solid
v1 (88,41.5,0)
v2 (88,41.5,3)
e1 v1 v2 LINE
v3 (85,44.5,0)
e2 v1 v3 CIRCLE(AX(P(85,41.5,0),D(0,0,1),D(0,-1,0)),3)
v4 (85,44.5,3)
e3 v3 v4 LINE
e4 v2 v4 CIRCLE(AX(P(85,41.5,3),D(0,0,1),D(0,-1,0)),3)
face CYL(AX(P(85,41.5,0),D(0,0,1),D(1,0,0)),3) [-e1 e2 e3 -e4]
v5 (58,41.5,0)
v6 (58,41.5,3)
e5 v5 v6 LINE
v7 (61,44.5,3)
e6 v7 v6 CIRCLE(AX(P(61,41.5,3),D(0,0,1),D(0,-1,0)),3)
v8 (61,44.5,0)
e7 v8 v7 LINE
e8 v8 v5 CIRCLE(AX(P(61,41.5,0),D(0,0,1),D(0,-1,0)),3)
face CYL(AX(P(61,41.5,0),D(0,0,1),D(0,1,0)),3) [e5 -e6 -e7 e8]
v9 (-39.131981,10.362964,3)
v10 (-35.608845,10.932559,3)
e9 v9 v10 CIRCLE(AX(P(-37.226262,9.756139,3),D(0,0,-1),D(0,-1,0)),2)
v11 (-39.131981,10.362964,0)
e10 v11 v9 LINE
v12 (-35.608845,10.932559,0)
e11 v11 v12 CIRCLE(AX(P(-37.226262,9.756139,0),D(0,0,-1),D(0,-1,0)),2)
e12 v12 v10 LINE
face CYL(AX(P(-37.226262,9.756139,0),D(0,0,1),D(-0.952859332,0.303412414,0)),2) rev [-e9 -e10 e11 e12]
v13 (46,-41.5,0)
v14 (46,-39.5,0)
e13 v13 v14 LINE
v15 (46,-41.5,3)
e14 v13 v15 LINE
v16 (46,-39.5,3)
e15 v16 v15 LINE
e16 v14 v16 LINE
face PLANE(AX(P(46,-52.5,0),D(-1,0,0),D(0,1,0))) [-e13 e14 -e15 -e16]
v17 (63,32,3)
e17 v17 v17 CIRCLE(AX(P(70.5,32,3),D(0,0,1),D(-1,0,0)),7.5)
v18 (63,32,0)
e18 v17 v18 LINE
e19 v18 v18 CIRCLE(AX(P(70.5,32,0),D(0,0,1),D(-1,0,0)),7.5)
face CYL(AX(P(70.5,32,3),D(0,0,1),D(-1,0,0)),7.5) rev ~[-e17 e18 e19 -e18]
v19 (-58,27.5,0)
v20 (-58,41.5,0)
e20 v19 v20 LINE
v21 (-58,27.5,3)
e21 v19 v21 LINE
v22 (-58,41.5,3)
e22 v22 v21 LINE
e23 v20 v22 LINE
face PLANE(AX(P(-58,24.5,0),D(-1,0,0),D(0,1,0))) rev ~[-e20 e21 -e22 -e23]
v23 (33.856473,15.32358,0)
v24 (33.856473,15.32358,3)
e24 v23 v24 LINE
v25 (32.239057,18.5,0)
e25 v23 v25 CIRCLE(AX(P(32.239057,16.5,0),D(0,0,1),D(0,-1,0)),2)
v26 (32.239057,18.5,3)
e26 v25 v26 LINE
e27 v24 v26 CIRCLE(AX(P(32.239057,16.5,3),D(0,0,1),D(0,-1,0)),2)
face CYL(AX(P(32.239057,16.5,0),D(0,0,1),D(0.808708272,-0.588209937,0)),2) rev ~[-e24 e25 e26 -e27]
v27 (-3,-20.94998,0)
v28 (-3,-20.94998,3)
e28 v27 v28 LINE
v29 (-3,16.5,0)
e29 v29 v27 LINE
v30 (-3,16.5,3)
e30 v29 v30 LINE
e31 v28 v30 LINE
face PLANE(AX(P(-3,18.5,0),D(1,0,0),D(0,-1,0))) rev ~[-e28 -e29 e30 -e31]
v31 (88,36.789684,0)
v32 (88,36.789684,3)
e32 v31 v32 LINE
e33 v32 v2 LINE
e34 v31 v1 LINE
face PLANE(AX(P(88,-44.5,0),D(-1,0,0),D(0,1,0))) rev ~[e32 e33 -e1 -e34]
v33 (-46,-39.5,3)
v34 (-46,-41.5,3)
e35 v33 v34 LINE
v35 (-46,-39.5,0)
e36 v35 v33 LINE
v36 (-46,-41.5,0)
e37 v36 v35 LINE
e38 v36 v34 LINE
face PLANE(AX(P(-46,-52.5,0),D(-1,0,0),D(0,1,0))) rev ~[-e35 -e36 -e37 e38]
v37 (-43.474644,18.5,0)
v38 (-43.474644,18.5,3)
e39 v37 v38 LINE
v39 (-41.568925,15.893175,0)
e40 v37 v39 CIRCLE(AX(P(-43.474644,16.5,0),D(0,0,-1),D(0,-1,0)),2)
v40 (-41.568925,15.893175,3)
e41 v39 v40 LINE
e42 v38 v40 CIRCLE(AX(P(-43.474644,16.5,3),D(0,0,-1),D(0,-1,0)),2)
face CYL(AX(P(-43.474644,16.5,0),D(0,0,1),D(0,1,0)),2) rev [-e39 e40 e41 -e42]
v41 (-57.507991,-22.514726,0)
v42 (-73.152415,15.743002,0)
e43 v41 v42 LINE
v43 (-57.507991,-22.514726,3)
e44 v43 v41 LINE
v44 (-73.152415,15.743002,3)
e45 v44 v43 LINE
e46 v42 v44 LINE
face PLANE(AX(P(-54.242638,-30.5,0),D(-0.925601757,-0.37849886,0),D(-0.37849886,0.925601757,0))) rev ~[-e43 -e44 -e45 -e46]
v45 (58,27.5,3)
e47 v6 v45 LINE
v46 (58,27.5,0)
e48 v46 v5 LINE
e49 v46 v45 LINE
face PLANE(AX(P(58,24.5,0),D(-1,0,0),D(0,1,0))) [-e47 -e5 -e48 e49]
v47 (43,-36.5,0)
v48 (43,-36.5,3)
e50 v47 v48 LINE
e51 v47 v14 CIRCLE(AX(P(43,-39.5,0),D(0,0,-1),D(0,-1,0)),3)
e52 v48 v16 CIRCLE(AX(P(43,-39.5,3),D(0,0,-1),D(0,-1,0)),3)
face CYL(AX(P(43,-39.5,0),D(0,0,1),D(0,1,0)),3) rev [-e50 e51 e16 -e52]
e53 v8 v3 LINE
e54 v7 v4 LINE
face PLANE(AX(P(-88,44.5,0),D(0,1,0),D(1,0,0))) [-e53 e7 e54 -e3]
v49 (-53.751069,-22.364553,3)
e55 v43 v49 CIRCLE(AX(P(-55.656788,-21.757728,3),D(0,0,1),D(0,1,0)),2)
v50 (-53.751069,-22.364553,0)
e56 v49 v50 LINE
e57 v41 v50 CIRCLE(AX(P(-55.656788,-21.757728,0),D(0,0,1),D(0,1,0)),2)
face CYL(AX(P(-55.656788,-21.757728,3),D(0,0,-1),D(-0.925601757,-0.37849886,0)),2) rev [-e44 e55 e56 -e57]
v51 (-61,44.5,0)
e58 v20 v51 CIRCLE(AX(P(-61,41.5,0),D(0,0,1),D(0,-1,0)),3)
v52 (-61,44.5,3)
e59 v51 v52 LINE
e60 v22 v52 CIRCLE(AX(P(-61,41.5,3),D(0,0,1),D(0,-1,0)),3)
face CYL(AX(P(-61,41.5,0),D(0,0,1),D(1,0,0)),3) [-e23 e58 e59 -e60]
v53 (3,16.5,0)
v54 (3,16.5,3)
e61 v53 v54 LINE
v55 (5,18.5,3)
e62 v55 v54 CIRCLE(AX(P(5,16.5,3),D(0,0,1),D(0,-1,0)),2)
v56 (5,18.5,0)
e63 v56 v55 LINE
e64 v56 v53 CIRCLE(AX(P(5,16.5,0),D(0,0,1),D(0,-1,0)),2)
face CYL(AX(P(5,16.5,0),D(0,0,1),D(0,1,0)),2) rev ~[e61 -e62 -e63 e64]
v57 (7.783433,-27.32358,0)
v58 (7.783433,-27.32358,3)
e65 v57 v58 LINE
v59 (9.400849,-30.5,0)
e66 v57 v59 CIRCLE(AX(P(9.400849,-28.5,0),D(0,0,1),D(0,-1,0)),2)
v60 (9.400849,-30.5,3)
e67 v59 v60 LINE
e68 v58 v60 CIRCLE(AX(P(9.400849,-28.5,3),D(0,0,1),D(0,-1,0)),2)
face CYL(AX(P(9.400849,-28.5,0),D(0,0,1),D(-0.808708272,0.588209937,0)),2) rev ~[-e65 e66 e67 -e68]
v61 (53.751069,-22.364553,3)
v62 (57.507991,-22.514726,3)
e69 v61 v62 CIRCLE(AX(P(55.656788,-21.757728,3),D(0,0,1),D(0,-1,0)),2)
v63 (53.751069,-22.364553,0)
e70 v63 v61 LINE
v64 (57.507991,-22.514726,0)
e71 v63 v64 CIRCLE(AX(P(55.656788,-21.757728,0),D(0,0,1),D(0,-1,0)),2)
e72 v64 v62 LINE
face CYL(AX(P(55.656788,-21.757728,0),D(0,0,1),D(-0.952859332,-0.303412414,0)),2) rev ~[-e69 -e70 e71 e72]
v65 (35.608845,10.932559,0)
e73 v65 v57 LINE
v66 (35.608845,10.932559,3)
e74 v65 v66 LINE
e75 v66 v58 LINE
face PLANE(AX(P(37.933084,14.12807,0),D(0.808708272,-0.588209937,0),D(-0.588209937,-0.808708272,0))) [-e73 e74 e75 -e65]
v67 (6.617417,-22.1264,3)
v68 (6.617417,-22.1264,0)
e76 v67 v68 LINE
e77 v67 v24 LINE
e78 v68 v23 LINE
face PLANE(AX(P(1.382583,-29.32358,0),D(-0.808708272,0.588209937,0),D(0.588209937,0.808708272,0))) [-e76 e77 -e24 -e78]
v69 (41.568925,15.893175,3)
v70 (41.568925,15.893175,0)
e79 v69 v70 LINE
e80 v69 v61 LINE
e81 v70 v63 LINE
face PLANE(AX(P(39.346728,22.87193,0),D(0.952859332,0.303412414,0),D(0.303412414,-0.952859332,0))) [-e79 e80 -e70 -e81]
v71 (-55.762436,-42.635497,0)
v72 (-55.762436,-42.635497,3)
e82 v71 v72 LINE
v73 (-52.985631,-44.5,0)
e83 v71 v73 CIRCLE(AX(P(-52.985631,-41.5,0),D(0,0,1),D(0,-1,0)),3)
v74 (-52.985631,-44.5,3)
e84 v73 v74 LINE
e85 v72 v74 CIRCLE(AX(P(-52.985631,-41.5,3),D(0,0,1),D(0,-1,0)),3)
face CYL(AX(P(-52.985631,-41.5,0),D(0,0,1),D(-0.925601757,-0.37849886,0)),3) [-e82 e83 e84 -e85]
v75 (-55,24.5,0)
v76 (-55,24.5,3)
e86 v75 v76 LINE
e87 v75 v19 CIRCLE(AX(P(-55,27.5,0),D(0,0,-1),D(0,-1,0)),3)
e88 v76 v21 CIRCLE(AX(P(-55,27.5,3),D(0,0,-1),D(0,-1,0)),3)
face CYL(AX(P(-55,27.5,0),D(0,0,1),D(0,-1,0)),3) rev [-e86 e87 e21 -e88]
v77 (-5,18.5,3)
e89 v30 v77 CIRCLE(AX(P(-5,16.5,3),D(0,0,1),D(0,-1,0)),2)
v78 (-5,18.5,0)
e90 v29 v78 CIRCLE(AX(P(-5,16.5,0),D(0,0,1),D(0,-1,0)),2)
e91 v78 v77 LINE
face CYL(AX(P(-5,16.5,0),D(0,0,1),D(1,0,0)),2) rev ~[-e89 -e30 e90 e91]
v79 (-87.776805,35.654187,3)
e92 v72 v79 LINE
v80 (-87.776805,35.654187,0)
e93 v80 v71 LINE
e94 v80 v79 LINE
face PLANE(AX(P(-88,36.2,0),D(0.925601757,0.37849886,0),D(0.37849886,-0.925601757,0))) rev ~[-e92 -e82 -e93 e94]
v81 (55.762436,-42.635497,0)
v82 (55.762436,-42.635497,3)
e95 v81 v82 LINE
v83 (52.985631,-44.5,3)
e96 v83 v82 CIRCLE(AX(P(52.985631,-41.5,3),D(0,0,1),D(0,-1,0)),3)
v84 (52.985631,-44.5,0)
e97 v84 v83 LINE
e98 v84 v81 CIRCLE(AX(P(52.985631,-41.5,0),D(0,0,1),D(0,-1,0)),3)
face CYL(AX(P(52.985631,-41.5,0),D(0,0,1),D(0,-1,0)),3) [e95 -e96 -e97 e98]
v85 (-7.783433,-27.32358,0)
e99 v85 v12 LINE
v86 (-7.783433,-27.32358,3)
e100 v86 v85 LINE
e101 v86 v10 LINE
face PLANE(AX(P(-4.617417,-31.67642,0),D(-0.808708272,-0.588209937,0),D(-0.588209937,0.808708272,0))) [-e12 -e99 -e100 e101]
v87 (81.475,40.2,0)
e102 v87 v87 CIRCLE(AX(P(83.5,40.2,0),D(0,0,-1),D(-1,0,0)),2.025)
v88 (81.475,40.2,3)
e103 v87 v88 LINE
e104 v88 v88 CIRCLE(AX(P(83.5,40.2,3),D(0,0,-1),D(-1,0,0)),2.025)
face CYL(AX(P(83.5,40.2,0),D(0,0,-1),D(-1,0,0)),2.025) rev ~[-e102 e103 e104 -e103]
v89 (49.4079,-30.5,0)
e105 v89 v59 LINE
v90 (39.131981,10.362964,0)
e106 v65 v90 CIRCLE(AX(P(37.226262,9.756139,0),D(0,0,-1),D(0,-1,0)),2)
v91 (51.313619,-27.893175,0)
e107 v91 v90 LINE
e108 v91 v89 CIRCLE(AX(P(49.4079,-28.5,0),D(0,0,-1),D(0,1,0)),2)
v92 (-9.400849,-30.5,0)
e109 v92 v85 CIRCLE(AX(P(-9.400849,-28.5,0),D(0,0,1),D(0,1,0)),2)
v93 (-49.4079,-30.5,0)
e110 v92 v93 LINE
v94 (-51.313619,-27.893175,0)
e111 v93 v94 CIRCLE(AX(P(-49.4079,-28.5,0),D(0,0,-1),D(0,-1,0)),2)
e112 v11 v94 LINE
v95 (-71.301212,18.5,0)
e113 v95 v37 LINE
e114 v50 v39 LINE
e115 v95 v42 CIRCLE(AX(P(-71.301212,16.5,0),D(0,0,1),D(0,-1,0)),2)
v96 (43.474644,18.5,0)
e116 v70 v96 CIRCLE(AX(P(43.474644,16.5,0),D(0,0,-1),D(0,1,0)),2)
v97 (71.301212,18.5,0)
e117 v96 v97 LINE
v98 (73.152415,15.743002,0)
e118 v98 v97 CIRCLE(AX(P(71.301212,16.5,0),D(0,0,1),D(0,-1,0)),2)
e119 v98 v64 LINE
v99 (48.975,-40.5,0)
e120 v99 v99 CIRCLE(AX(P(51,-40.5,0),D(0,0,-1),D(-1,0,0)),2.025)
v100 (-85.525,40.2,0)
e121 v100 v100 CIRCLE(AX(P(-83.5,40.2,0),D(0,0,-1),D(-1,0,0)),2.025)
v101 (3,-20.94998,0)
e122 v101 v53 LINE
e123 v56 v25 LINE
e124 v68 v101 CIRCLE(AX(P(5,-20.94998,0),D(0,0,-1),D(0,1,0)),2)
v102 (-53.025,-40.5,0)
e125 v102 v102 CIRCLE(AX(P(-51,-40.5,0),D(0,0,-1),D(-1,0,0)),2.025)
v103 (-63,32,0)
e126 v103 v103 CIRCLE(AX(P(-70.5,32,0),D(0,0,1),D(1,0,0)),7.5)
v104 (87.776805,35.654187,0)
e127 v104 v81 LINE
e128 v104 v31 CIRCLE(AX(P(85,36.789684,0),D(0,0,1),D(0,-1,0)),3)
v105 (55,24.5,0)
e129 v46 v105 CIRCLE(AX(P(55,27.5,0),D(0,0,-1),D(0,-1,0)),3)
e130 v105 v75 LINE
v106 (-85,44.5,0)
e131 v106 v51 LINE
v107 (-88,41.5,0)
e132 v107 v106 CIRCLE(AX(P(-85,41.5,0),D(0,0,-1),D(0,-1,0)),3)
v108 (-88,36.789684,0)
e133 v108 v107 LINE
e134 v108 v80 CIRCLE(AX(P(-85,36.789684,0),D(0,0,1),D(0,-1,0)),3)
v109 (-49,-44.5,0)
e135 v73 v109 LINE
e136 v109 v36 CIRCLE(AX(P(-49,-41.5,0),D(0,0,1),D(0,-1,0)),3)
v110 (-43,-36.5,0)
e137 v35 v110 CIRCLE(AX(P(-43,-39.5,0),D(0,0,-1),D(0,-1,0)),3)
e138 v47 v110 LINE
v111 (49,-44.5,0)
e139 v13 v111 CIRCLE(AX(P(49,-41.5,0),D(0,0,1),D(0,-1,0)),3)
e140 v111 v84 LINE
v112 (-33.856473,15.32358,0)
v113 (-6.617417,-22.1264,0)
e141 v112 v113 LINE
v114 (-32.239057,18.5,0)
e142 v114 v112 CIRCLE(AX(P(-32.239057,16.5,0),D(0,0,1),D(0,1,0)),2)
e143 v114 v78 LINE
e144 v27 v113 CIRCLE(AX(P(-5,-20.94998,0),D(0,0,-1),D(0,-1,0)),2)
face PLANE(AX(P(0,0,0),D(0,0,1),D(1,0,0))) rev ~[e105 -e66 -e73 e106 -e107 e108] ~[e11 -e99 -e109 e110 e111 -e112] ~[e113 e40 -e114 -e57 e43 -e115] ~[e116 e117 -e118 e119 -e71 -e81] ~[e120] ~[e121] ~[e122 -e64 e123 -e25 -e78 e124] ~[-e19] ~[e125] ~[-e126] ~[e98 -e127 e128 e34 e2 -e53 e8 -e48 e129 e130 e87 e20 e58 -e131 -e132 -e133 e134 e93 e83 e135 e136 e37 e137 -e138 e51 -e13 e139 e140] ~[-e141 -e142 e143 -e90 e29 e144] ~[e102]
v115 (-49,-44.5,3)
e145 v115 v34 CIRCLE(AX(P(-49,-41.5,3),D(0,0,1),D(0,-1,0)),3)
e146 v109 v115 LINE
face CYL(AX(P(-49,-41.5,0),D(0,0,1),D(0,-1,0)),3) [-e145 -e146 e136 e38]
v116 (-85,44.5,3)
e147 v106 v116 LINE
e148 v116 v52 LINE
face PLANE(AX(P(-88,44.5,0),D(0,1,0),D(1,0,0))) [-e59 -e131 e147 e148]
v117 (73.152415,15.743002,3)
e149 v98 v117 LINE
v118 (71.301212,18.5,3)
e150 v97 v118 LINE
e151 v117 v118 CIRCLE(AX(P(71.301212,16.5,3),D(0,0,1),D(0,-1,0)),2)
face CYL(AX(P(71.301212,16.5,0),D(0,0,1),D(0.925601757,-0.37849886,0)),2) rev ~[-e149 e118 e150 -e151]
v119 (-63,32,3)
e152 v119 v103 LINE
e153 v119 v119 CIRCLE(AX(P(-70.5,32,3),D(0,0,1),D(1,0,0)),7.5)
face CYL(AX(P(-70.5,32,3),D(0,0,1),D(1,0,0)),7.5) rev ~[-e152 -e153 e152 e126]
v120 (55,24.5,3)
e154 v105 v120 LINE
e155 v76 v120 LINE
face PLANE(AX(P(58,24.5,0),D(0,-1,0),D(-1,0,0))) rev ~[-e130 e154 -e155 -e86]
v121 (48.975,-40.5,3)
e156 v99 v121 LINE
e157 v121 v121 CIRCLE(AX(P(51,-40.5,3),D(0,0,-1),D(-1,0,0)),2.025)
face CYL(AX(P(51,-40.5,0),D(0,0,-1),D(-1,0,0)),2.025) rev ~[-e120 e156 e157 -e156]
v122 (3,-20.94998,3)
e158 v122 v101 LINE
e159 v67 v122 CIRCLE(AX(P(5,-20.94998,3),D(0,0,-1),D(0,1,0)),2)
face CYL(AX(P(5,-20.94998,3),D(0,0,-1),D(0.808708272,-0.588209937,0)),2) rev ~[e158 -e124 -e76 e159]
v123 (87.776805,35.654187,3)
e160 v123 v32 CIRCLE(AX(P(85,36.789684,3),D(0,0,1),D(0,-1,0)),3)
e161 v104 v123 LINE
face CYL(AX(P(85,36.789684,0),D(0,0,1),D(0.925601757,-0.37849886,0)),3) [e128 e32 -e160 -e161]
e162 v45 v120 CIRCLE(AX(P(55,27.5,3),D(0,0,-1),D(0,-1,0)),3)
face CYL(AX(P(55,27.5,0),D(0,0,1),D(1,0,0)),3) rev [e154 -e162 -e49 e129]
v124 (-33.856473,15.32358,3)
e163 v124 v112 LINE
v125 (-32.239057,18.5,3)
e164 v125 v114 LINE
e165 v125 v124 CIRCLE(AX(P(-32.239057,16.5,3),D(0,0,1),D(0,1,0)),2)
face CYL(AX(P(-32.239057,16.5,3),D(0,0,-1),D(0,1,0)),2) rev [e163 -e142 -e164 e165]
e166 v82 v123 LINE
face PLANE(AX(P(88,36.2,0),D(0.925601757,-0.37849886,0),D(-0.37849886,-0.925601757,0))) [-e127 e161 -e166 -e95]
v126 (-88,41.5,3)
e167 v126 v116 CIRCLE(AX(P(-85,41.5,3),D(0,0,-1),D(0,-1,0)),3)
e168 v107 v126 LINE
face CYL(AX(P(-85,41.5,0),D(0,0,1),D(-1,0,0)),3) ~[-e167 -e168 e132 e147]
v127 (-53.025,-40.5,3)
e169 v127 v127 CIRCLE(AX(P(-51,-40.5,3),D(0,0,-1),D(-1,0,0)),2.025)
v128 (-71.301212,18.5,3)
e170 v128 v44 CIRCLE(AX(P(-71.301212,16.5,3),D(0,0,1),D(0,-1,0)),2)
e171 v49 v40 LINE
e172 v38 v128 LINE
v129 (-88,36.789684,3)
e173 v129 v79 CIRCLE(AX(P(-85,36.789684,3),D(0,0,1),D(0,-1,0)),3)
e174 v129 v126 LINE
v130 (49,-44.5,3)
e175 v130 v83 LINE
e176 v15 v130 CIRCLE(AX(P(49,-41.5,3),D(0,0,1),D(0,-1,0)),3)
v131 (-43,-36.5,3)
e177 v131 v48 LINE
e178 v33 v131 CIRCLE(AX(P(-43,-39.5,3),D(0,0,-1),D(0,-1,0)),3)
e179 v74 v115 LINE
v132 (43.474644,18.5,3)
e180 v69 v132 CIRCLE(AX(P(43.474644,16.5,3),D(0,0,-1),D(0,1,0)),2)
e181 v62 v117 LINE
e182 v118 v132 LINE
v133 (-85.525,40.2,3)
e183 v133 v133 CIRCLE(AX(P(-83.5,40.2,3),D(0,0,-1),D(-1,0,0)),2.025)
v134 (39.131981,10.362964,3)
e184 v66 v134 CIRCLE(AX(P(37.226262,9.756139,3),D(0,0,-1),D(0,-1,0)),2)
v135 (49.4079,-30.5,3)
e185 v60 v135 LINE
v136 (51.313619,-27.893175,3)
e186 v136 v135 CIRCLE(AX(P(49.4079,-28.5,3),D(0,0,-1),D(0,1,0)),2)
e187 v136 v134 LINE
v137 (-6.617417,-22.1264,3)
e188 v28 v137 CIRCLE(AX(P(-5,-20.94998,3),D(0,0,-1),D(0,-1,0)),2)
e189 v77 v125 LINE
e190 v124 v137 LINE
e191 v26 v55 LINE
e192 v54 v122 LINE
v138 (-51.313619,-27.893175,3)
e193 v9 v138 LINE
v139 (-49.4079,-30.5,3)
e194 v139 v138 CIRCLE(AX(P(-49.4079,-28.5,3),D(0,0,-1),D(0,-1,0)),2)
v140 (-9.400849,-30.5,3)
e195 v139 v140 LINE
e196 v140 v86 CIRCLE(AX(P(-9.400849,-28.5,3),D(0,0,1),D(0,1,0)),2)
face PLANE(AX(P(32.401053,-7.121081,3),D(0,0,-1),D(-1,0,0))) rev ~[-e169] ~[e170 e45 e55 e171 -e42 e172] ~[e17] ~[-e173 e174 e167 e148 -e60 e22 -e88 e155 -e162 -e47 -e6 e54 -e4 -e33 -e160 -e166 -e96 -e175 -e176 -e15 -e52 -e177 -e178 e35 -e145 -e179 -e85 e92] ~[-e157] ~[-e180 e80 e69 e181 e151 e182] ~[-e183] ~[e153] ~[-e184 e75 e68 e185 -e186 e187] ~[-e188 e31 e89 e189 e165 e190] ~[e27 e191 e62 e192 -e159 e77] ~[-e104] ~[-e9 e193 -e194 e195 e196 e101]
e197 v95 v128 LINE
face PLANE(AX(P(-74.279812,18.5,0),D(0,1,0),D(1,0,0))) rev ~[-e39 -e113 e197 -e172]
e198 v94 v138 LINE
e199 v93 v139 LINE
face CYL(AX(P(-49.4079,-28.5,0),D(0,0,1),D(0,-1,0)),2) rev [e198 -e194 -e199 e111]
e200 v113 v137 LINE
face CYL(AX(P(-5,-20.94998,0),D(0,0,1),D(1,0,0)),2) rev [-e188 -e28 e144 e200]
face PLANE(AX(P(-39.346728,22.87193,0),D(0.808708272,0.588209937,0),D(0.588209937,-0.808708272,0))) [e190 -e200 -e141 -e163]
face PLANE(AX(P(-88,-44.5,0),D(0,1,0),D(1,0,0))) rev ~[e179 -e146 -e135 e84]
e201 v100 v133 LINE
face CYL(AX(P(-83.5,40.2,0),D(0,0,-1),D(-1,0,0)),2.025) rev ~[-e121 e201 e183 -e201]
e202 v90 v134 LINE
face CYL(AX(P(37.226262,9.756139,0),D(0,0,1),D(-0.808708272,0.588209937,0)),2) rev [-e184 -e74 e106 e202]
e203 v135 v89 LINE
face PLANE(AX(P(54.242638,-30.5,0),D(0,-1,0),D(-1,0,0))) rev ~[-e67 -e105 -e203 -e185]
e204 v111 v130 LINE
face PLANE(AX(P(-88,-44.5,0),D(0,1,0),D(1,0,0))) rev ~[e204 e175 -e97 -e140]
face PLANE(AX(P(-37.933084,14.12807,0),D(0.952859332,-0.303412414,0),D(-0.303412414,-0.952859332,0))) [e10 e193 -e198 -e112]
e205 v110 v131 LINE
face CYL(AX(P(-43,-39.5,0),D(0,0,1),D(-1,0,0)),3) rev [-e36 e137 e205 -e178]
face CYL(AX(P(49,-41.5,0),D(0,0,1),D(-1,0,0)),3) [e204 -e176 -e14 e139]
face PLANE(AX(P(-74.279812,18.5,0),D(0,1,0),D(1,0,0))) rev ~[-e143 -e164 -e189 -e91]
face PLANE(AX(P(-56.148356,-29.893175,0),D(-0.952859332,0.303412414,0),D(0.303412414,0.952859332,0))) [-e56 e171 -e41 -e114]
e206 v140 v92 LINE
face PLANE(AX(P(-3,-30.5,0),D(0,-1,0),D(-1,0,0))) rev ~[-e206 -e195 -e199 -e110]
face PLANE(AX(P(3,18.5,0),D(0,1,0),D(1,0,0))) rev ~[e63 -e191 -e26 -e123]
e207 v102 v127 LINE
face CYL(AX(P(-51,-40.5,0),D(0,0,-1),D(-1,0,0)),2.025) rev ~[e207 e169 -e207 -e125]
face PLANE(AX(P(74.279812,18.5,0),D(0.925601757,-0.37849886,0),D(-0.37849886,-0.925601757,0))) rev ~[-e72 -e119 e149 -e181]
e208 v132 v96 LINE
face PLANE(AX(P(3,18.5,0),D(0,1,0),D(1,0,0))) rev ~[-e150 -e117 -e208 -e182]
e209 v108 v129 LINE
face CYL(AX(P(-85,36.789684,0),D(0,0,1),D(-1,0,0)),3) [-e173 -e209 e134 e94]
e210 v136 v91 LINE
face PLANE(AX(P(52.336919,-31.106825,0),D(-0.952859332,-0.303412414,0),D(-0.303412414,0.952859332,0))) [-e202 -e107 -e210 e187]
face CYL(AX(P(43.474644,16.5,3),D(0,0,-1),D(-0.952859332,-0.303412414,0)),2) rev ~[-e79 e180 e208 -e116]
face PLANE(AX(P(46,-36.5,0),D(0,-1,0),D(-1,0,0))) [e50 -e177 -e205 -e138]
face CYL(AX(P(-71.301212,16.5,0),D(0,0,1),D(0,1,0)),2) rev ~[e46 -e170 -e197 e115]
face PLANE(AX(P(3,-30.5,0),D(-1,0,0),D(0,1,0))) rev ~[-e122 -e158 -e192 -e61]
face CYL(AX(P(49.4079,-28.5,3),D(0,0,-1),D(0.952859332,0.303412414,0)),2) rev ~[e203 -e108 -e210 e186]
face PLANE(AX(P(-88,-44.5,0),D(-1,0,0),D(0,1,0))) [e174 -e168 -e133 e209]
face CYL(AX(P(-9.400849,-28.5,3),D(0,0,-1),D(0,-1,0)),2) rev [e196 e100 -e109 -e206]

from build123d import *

# Parameters (mm, degrees)
SKETCH_1_W          = 176
SKETCH_1_H          = 89
EXTRUDE_1_DEPTH     = 3
SKETCH_2_R          = 2.025
CUT_EXTRUDE_1_DEPTH = 4
CUT_EXTRUDE_2_DEPTH = 4
SKETCH_4_W          = 116
SKETCH_4_H          = 40
CUT_EXTRUDE_3_DEPTH = 4
SKETCH_5_W          = 92
SKETCH_5_H          = 16
CUT_EXTRUDE_4_DEPTH = 4
CUT_EXTRUDE_5_DEPTH = 24
EXTRUDE_2_DEPTH     = 3
FILLET_1_R          = 2
FILLET_2_R          = 3
SKETCH_8_R          = 7.5
CUT_EXTRUDE_6_DEPTH = 3


with BuildPart() as part:
    # 草图1 → 凸台-拉伸1 (new body)
    with BuildSketch(Plane.XY):
        Rectangle(SKETCH_1_W, SKETCH_1_H)
    extrude(amount=EXTRUDE_1_DEPTH)

    # 草图2 → 切除-拉伸1 (cut)
    with BuildSketch(Plane(origin=(0, 0, 0), x_dir=(-1, 0, 0), z_dir=(0, 0, -1))):
        with Locations((-83.5, 40.2)):
            Circle(SKETCH_2_R)
        with Locations((83.5, 40.2)):
            Circle(SKETCH_2_R)
        with Locations((51, -40.5)):
            Circle(SKETCH_2_R)
        with Locations((-51, -40.5)):
            Circle(SKETCH_2_R)
    extrude(amount=-CUT_EXTRUDE_1_DEPTH, mode=Mode.SUBTRACT)

    # 草图3 → 切除-拉伸2 (cut)
    with BuildSketch(Plane(origin=(0, 0, 0), x_dir=(-1, 0, 0), z_dir=(0, 0, -1))):
        Polygon((88, -44.5), (88, 36.2), (55, -44.5), align=None)
        Polygon((-88, 36.2), (-55, -44.5), (-88, -44.5), align=None)
    extrude(amount=-CUT_EXTRUDE_2_DEPTH, mode=Mode.SUBTRACT)

    # 草图4 → 切除-拉伸3 (cut)
    with BuildSketch(Plane(origin=(0, 0, 0), x_dir=(-1, 0, 0), z_dir=(0, 0, -1))):
        with Locations((0, 44.5)):
            Rectangle(SKETCH_4_W, SKETCH_4_H)
    extrude(amount=-CUT_EXTRUDE_3_DEPTH, mode=Mode.SUBTRACT)

    # 草图5 → 切除-拉伸4 (cut)
    with BuildSketch(Plane(origin=(0, 0, 0), x_dir=(-1, 0, 0), z_dir=(0, 0, -1))):
        with Locations((0, -44.5)):
            Rectangle(SKETCH_5_W, SKETCH_5_H)
    extrude(amount=-CUT_EXTRUDE_4_DEPTH, mode=Mode.SUBTRACT)

    # 草图6 → 切除-拉伸5 (cut)
    with BuildSketch(Plane(origin=(0, 0, 0), x_dir=(-1, 0, 0), z_dir=(0, 0, -1))):
        Polygon((-3, 18.5), (-74.279812328, 18.5), (-54.242637607, -30.5), (-3, -30.5), align=None)
        Polygon((74.279812328, 18.5), (3, 18.5), (3, -30.5), (54.242637607, -30.5), align=None)
    extrude(amount=-CUT_EXTRUDE_5_DEPTH, mode=Mode.SUBTRACT)

    # 草图7 → 凸台-拉伸2 (add)
    with BuildSketch(Plane(origin=(0, 0, 0), x_dir=(-1, 0, 0), z_dir=(0, 0, -1))):
        with BuildLine():
            Line((-52.336918942, -31.106824827), (-37.933084046, 14.128069622))
            Line((-37.933084046, 14.128069622), (-4.617416544, -31.676419875))
            ThreePointArc((-4.617416544, -31.676419875), (-1.823580125, -32.117416544), (-1.382583456, -29.323580125))
            Line((-1.382583456, -29.323580125), (-39.346728283, 22.871930378))
            Line((-39.346728283, 22.871930378), (-56.148356272, -29.893175173))
            ThreePointArc((-56.148356272, -29.893175173), (-54.849462434, -32.405718665), (-52.336918942, -31.106824827))
        make_face()
        with BuildLine():
            Line((4.617416544, -31.676419875), (37.933084046, 14.128069622))
            Line((37.933084046, 14.128069622), (52.336918942, -31.106824827))
            ThreePointArc((52.336918942, -31.106824827), (54.849462434, -32.405718665), (56.148356272, -29.893175173))
            Line((56.148356272, -29.893175173), (39.346728283, 22.871930378))
            Line((39.346728283, 22.871930378), (1.382583456, -29.323580125))
            ThreePointArc((1.382583456, -29.323580125), (1.823580125, -32.117416544), (4.617416544, -31.676419875))
        make_face()
    extrude(amount=-EXTRUDE_2_DEPTH)

    # 圆角1
    fillet_1_edges = [part.edges().sort_by_distance(p)[0] for p in [
        (3, 18.5, 1.5),
        (74.279812328, 18.5, 1.5),
        (-3, 18.5, 1.5),
        (-74.279812328, 18.5, 1.5),
        (36.166826478, 18.5, 1.5),
        (40.738851866, 18.5, 1.5),
        (52.143691905, -30.5, 1.5),
        (5.473079686, -30.5, 1.5),
        (37.933084046, 14.128069622, 1.5),
        (55.422689585, -27.614236527, 1.5),
        (3, -27.099853432, 1.5),
        (-3, -27.099853432, 1.5),
        (-5.473079686, -30.5, 1.5),
        (-52.143691905, -30.5, 1.5),
        (-55.422689585, -27.614236527, 1.5),
        (-40.738851866, 18.5, 1.5),
        (-37.933084046, 14.128069622, 1.5),
        (-36.166826478, 18.5, 1.5),
    ]]
    fillet(fillet_1_edges, radius=FILLET_1_R)

    # 圆角2
    fillet_2_edges = [part.edges().sort_by_distance(p)[0] for p in [
        (88, 36.2, 1.5),
        (55, -44.5, 1.5),
        (-55, -44.5, 1.5),
        (-88, 36.2, 1.5),
        (-58, 44.5, 1.5),
        (-58, 24.5, 1.5),
        (58, 44.5, 1.5),
        (58, 24.5, 1.5),
        (-88, 44.5, 1.5),
        (88, 44.5, 1.5),
        (-46, -44.5, 1.5),
        (-46, -36.5, 1.5),
        (46, -44.5, 1.5),
        (46, -36.5, 1.5),
    ]]
    fillet(fillet_2_edges, radius=FILLET_2_R)

    # 草图8 → 切除-拉伸6 (cut)
    with BuildSketch(Plane.XY.offset(3)):
        with Locations((-70.5, 32)):
            Circle(SKETCH_8_R)
        with Locations(Location((70.5, 32, 0), (0, 0, 180))):
            Circle(SKETCH_8_R)
    extrude(amount=-CUT_EXTRUDE_6_DEPTH, mode=Mode.SUBTRACT)


solid = part.part
